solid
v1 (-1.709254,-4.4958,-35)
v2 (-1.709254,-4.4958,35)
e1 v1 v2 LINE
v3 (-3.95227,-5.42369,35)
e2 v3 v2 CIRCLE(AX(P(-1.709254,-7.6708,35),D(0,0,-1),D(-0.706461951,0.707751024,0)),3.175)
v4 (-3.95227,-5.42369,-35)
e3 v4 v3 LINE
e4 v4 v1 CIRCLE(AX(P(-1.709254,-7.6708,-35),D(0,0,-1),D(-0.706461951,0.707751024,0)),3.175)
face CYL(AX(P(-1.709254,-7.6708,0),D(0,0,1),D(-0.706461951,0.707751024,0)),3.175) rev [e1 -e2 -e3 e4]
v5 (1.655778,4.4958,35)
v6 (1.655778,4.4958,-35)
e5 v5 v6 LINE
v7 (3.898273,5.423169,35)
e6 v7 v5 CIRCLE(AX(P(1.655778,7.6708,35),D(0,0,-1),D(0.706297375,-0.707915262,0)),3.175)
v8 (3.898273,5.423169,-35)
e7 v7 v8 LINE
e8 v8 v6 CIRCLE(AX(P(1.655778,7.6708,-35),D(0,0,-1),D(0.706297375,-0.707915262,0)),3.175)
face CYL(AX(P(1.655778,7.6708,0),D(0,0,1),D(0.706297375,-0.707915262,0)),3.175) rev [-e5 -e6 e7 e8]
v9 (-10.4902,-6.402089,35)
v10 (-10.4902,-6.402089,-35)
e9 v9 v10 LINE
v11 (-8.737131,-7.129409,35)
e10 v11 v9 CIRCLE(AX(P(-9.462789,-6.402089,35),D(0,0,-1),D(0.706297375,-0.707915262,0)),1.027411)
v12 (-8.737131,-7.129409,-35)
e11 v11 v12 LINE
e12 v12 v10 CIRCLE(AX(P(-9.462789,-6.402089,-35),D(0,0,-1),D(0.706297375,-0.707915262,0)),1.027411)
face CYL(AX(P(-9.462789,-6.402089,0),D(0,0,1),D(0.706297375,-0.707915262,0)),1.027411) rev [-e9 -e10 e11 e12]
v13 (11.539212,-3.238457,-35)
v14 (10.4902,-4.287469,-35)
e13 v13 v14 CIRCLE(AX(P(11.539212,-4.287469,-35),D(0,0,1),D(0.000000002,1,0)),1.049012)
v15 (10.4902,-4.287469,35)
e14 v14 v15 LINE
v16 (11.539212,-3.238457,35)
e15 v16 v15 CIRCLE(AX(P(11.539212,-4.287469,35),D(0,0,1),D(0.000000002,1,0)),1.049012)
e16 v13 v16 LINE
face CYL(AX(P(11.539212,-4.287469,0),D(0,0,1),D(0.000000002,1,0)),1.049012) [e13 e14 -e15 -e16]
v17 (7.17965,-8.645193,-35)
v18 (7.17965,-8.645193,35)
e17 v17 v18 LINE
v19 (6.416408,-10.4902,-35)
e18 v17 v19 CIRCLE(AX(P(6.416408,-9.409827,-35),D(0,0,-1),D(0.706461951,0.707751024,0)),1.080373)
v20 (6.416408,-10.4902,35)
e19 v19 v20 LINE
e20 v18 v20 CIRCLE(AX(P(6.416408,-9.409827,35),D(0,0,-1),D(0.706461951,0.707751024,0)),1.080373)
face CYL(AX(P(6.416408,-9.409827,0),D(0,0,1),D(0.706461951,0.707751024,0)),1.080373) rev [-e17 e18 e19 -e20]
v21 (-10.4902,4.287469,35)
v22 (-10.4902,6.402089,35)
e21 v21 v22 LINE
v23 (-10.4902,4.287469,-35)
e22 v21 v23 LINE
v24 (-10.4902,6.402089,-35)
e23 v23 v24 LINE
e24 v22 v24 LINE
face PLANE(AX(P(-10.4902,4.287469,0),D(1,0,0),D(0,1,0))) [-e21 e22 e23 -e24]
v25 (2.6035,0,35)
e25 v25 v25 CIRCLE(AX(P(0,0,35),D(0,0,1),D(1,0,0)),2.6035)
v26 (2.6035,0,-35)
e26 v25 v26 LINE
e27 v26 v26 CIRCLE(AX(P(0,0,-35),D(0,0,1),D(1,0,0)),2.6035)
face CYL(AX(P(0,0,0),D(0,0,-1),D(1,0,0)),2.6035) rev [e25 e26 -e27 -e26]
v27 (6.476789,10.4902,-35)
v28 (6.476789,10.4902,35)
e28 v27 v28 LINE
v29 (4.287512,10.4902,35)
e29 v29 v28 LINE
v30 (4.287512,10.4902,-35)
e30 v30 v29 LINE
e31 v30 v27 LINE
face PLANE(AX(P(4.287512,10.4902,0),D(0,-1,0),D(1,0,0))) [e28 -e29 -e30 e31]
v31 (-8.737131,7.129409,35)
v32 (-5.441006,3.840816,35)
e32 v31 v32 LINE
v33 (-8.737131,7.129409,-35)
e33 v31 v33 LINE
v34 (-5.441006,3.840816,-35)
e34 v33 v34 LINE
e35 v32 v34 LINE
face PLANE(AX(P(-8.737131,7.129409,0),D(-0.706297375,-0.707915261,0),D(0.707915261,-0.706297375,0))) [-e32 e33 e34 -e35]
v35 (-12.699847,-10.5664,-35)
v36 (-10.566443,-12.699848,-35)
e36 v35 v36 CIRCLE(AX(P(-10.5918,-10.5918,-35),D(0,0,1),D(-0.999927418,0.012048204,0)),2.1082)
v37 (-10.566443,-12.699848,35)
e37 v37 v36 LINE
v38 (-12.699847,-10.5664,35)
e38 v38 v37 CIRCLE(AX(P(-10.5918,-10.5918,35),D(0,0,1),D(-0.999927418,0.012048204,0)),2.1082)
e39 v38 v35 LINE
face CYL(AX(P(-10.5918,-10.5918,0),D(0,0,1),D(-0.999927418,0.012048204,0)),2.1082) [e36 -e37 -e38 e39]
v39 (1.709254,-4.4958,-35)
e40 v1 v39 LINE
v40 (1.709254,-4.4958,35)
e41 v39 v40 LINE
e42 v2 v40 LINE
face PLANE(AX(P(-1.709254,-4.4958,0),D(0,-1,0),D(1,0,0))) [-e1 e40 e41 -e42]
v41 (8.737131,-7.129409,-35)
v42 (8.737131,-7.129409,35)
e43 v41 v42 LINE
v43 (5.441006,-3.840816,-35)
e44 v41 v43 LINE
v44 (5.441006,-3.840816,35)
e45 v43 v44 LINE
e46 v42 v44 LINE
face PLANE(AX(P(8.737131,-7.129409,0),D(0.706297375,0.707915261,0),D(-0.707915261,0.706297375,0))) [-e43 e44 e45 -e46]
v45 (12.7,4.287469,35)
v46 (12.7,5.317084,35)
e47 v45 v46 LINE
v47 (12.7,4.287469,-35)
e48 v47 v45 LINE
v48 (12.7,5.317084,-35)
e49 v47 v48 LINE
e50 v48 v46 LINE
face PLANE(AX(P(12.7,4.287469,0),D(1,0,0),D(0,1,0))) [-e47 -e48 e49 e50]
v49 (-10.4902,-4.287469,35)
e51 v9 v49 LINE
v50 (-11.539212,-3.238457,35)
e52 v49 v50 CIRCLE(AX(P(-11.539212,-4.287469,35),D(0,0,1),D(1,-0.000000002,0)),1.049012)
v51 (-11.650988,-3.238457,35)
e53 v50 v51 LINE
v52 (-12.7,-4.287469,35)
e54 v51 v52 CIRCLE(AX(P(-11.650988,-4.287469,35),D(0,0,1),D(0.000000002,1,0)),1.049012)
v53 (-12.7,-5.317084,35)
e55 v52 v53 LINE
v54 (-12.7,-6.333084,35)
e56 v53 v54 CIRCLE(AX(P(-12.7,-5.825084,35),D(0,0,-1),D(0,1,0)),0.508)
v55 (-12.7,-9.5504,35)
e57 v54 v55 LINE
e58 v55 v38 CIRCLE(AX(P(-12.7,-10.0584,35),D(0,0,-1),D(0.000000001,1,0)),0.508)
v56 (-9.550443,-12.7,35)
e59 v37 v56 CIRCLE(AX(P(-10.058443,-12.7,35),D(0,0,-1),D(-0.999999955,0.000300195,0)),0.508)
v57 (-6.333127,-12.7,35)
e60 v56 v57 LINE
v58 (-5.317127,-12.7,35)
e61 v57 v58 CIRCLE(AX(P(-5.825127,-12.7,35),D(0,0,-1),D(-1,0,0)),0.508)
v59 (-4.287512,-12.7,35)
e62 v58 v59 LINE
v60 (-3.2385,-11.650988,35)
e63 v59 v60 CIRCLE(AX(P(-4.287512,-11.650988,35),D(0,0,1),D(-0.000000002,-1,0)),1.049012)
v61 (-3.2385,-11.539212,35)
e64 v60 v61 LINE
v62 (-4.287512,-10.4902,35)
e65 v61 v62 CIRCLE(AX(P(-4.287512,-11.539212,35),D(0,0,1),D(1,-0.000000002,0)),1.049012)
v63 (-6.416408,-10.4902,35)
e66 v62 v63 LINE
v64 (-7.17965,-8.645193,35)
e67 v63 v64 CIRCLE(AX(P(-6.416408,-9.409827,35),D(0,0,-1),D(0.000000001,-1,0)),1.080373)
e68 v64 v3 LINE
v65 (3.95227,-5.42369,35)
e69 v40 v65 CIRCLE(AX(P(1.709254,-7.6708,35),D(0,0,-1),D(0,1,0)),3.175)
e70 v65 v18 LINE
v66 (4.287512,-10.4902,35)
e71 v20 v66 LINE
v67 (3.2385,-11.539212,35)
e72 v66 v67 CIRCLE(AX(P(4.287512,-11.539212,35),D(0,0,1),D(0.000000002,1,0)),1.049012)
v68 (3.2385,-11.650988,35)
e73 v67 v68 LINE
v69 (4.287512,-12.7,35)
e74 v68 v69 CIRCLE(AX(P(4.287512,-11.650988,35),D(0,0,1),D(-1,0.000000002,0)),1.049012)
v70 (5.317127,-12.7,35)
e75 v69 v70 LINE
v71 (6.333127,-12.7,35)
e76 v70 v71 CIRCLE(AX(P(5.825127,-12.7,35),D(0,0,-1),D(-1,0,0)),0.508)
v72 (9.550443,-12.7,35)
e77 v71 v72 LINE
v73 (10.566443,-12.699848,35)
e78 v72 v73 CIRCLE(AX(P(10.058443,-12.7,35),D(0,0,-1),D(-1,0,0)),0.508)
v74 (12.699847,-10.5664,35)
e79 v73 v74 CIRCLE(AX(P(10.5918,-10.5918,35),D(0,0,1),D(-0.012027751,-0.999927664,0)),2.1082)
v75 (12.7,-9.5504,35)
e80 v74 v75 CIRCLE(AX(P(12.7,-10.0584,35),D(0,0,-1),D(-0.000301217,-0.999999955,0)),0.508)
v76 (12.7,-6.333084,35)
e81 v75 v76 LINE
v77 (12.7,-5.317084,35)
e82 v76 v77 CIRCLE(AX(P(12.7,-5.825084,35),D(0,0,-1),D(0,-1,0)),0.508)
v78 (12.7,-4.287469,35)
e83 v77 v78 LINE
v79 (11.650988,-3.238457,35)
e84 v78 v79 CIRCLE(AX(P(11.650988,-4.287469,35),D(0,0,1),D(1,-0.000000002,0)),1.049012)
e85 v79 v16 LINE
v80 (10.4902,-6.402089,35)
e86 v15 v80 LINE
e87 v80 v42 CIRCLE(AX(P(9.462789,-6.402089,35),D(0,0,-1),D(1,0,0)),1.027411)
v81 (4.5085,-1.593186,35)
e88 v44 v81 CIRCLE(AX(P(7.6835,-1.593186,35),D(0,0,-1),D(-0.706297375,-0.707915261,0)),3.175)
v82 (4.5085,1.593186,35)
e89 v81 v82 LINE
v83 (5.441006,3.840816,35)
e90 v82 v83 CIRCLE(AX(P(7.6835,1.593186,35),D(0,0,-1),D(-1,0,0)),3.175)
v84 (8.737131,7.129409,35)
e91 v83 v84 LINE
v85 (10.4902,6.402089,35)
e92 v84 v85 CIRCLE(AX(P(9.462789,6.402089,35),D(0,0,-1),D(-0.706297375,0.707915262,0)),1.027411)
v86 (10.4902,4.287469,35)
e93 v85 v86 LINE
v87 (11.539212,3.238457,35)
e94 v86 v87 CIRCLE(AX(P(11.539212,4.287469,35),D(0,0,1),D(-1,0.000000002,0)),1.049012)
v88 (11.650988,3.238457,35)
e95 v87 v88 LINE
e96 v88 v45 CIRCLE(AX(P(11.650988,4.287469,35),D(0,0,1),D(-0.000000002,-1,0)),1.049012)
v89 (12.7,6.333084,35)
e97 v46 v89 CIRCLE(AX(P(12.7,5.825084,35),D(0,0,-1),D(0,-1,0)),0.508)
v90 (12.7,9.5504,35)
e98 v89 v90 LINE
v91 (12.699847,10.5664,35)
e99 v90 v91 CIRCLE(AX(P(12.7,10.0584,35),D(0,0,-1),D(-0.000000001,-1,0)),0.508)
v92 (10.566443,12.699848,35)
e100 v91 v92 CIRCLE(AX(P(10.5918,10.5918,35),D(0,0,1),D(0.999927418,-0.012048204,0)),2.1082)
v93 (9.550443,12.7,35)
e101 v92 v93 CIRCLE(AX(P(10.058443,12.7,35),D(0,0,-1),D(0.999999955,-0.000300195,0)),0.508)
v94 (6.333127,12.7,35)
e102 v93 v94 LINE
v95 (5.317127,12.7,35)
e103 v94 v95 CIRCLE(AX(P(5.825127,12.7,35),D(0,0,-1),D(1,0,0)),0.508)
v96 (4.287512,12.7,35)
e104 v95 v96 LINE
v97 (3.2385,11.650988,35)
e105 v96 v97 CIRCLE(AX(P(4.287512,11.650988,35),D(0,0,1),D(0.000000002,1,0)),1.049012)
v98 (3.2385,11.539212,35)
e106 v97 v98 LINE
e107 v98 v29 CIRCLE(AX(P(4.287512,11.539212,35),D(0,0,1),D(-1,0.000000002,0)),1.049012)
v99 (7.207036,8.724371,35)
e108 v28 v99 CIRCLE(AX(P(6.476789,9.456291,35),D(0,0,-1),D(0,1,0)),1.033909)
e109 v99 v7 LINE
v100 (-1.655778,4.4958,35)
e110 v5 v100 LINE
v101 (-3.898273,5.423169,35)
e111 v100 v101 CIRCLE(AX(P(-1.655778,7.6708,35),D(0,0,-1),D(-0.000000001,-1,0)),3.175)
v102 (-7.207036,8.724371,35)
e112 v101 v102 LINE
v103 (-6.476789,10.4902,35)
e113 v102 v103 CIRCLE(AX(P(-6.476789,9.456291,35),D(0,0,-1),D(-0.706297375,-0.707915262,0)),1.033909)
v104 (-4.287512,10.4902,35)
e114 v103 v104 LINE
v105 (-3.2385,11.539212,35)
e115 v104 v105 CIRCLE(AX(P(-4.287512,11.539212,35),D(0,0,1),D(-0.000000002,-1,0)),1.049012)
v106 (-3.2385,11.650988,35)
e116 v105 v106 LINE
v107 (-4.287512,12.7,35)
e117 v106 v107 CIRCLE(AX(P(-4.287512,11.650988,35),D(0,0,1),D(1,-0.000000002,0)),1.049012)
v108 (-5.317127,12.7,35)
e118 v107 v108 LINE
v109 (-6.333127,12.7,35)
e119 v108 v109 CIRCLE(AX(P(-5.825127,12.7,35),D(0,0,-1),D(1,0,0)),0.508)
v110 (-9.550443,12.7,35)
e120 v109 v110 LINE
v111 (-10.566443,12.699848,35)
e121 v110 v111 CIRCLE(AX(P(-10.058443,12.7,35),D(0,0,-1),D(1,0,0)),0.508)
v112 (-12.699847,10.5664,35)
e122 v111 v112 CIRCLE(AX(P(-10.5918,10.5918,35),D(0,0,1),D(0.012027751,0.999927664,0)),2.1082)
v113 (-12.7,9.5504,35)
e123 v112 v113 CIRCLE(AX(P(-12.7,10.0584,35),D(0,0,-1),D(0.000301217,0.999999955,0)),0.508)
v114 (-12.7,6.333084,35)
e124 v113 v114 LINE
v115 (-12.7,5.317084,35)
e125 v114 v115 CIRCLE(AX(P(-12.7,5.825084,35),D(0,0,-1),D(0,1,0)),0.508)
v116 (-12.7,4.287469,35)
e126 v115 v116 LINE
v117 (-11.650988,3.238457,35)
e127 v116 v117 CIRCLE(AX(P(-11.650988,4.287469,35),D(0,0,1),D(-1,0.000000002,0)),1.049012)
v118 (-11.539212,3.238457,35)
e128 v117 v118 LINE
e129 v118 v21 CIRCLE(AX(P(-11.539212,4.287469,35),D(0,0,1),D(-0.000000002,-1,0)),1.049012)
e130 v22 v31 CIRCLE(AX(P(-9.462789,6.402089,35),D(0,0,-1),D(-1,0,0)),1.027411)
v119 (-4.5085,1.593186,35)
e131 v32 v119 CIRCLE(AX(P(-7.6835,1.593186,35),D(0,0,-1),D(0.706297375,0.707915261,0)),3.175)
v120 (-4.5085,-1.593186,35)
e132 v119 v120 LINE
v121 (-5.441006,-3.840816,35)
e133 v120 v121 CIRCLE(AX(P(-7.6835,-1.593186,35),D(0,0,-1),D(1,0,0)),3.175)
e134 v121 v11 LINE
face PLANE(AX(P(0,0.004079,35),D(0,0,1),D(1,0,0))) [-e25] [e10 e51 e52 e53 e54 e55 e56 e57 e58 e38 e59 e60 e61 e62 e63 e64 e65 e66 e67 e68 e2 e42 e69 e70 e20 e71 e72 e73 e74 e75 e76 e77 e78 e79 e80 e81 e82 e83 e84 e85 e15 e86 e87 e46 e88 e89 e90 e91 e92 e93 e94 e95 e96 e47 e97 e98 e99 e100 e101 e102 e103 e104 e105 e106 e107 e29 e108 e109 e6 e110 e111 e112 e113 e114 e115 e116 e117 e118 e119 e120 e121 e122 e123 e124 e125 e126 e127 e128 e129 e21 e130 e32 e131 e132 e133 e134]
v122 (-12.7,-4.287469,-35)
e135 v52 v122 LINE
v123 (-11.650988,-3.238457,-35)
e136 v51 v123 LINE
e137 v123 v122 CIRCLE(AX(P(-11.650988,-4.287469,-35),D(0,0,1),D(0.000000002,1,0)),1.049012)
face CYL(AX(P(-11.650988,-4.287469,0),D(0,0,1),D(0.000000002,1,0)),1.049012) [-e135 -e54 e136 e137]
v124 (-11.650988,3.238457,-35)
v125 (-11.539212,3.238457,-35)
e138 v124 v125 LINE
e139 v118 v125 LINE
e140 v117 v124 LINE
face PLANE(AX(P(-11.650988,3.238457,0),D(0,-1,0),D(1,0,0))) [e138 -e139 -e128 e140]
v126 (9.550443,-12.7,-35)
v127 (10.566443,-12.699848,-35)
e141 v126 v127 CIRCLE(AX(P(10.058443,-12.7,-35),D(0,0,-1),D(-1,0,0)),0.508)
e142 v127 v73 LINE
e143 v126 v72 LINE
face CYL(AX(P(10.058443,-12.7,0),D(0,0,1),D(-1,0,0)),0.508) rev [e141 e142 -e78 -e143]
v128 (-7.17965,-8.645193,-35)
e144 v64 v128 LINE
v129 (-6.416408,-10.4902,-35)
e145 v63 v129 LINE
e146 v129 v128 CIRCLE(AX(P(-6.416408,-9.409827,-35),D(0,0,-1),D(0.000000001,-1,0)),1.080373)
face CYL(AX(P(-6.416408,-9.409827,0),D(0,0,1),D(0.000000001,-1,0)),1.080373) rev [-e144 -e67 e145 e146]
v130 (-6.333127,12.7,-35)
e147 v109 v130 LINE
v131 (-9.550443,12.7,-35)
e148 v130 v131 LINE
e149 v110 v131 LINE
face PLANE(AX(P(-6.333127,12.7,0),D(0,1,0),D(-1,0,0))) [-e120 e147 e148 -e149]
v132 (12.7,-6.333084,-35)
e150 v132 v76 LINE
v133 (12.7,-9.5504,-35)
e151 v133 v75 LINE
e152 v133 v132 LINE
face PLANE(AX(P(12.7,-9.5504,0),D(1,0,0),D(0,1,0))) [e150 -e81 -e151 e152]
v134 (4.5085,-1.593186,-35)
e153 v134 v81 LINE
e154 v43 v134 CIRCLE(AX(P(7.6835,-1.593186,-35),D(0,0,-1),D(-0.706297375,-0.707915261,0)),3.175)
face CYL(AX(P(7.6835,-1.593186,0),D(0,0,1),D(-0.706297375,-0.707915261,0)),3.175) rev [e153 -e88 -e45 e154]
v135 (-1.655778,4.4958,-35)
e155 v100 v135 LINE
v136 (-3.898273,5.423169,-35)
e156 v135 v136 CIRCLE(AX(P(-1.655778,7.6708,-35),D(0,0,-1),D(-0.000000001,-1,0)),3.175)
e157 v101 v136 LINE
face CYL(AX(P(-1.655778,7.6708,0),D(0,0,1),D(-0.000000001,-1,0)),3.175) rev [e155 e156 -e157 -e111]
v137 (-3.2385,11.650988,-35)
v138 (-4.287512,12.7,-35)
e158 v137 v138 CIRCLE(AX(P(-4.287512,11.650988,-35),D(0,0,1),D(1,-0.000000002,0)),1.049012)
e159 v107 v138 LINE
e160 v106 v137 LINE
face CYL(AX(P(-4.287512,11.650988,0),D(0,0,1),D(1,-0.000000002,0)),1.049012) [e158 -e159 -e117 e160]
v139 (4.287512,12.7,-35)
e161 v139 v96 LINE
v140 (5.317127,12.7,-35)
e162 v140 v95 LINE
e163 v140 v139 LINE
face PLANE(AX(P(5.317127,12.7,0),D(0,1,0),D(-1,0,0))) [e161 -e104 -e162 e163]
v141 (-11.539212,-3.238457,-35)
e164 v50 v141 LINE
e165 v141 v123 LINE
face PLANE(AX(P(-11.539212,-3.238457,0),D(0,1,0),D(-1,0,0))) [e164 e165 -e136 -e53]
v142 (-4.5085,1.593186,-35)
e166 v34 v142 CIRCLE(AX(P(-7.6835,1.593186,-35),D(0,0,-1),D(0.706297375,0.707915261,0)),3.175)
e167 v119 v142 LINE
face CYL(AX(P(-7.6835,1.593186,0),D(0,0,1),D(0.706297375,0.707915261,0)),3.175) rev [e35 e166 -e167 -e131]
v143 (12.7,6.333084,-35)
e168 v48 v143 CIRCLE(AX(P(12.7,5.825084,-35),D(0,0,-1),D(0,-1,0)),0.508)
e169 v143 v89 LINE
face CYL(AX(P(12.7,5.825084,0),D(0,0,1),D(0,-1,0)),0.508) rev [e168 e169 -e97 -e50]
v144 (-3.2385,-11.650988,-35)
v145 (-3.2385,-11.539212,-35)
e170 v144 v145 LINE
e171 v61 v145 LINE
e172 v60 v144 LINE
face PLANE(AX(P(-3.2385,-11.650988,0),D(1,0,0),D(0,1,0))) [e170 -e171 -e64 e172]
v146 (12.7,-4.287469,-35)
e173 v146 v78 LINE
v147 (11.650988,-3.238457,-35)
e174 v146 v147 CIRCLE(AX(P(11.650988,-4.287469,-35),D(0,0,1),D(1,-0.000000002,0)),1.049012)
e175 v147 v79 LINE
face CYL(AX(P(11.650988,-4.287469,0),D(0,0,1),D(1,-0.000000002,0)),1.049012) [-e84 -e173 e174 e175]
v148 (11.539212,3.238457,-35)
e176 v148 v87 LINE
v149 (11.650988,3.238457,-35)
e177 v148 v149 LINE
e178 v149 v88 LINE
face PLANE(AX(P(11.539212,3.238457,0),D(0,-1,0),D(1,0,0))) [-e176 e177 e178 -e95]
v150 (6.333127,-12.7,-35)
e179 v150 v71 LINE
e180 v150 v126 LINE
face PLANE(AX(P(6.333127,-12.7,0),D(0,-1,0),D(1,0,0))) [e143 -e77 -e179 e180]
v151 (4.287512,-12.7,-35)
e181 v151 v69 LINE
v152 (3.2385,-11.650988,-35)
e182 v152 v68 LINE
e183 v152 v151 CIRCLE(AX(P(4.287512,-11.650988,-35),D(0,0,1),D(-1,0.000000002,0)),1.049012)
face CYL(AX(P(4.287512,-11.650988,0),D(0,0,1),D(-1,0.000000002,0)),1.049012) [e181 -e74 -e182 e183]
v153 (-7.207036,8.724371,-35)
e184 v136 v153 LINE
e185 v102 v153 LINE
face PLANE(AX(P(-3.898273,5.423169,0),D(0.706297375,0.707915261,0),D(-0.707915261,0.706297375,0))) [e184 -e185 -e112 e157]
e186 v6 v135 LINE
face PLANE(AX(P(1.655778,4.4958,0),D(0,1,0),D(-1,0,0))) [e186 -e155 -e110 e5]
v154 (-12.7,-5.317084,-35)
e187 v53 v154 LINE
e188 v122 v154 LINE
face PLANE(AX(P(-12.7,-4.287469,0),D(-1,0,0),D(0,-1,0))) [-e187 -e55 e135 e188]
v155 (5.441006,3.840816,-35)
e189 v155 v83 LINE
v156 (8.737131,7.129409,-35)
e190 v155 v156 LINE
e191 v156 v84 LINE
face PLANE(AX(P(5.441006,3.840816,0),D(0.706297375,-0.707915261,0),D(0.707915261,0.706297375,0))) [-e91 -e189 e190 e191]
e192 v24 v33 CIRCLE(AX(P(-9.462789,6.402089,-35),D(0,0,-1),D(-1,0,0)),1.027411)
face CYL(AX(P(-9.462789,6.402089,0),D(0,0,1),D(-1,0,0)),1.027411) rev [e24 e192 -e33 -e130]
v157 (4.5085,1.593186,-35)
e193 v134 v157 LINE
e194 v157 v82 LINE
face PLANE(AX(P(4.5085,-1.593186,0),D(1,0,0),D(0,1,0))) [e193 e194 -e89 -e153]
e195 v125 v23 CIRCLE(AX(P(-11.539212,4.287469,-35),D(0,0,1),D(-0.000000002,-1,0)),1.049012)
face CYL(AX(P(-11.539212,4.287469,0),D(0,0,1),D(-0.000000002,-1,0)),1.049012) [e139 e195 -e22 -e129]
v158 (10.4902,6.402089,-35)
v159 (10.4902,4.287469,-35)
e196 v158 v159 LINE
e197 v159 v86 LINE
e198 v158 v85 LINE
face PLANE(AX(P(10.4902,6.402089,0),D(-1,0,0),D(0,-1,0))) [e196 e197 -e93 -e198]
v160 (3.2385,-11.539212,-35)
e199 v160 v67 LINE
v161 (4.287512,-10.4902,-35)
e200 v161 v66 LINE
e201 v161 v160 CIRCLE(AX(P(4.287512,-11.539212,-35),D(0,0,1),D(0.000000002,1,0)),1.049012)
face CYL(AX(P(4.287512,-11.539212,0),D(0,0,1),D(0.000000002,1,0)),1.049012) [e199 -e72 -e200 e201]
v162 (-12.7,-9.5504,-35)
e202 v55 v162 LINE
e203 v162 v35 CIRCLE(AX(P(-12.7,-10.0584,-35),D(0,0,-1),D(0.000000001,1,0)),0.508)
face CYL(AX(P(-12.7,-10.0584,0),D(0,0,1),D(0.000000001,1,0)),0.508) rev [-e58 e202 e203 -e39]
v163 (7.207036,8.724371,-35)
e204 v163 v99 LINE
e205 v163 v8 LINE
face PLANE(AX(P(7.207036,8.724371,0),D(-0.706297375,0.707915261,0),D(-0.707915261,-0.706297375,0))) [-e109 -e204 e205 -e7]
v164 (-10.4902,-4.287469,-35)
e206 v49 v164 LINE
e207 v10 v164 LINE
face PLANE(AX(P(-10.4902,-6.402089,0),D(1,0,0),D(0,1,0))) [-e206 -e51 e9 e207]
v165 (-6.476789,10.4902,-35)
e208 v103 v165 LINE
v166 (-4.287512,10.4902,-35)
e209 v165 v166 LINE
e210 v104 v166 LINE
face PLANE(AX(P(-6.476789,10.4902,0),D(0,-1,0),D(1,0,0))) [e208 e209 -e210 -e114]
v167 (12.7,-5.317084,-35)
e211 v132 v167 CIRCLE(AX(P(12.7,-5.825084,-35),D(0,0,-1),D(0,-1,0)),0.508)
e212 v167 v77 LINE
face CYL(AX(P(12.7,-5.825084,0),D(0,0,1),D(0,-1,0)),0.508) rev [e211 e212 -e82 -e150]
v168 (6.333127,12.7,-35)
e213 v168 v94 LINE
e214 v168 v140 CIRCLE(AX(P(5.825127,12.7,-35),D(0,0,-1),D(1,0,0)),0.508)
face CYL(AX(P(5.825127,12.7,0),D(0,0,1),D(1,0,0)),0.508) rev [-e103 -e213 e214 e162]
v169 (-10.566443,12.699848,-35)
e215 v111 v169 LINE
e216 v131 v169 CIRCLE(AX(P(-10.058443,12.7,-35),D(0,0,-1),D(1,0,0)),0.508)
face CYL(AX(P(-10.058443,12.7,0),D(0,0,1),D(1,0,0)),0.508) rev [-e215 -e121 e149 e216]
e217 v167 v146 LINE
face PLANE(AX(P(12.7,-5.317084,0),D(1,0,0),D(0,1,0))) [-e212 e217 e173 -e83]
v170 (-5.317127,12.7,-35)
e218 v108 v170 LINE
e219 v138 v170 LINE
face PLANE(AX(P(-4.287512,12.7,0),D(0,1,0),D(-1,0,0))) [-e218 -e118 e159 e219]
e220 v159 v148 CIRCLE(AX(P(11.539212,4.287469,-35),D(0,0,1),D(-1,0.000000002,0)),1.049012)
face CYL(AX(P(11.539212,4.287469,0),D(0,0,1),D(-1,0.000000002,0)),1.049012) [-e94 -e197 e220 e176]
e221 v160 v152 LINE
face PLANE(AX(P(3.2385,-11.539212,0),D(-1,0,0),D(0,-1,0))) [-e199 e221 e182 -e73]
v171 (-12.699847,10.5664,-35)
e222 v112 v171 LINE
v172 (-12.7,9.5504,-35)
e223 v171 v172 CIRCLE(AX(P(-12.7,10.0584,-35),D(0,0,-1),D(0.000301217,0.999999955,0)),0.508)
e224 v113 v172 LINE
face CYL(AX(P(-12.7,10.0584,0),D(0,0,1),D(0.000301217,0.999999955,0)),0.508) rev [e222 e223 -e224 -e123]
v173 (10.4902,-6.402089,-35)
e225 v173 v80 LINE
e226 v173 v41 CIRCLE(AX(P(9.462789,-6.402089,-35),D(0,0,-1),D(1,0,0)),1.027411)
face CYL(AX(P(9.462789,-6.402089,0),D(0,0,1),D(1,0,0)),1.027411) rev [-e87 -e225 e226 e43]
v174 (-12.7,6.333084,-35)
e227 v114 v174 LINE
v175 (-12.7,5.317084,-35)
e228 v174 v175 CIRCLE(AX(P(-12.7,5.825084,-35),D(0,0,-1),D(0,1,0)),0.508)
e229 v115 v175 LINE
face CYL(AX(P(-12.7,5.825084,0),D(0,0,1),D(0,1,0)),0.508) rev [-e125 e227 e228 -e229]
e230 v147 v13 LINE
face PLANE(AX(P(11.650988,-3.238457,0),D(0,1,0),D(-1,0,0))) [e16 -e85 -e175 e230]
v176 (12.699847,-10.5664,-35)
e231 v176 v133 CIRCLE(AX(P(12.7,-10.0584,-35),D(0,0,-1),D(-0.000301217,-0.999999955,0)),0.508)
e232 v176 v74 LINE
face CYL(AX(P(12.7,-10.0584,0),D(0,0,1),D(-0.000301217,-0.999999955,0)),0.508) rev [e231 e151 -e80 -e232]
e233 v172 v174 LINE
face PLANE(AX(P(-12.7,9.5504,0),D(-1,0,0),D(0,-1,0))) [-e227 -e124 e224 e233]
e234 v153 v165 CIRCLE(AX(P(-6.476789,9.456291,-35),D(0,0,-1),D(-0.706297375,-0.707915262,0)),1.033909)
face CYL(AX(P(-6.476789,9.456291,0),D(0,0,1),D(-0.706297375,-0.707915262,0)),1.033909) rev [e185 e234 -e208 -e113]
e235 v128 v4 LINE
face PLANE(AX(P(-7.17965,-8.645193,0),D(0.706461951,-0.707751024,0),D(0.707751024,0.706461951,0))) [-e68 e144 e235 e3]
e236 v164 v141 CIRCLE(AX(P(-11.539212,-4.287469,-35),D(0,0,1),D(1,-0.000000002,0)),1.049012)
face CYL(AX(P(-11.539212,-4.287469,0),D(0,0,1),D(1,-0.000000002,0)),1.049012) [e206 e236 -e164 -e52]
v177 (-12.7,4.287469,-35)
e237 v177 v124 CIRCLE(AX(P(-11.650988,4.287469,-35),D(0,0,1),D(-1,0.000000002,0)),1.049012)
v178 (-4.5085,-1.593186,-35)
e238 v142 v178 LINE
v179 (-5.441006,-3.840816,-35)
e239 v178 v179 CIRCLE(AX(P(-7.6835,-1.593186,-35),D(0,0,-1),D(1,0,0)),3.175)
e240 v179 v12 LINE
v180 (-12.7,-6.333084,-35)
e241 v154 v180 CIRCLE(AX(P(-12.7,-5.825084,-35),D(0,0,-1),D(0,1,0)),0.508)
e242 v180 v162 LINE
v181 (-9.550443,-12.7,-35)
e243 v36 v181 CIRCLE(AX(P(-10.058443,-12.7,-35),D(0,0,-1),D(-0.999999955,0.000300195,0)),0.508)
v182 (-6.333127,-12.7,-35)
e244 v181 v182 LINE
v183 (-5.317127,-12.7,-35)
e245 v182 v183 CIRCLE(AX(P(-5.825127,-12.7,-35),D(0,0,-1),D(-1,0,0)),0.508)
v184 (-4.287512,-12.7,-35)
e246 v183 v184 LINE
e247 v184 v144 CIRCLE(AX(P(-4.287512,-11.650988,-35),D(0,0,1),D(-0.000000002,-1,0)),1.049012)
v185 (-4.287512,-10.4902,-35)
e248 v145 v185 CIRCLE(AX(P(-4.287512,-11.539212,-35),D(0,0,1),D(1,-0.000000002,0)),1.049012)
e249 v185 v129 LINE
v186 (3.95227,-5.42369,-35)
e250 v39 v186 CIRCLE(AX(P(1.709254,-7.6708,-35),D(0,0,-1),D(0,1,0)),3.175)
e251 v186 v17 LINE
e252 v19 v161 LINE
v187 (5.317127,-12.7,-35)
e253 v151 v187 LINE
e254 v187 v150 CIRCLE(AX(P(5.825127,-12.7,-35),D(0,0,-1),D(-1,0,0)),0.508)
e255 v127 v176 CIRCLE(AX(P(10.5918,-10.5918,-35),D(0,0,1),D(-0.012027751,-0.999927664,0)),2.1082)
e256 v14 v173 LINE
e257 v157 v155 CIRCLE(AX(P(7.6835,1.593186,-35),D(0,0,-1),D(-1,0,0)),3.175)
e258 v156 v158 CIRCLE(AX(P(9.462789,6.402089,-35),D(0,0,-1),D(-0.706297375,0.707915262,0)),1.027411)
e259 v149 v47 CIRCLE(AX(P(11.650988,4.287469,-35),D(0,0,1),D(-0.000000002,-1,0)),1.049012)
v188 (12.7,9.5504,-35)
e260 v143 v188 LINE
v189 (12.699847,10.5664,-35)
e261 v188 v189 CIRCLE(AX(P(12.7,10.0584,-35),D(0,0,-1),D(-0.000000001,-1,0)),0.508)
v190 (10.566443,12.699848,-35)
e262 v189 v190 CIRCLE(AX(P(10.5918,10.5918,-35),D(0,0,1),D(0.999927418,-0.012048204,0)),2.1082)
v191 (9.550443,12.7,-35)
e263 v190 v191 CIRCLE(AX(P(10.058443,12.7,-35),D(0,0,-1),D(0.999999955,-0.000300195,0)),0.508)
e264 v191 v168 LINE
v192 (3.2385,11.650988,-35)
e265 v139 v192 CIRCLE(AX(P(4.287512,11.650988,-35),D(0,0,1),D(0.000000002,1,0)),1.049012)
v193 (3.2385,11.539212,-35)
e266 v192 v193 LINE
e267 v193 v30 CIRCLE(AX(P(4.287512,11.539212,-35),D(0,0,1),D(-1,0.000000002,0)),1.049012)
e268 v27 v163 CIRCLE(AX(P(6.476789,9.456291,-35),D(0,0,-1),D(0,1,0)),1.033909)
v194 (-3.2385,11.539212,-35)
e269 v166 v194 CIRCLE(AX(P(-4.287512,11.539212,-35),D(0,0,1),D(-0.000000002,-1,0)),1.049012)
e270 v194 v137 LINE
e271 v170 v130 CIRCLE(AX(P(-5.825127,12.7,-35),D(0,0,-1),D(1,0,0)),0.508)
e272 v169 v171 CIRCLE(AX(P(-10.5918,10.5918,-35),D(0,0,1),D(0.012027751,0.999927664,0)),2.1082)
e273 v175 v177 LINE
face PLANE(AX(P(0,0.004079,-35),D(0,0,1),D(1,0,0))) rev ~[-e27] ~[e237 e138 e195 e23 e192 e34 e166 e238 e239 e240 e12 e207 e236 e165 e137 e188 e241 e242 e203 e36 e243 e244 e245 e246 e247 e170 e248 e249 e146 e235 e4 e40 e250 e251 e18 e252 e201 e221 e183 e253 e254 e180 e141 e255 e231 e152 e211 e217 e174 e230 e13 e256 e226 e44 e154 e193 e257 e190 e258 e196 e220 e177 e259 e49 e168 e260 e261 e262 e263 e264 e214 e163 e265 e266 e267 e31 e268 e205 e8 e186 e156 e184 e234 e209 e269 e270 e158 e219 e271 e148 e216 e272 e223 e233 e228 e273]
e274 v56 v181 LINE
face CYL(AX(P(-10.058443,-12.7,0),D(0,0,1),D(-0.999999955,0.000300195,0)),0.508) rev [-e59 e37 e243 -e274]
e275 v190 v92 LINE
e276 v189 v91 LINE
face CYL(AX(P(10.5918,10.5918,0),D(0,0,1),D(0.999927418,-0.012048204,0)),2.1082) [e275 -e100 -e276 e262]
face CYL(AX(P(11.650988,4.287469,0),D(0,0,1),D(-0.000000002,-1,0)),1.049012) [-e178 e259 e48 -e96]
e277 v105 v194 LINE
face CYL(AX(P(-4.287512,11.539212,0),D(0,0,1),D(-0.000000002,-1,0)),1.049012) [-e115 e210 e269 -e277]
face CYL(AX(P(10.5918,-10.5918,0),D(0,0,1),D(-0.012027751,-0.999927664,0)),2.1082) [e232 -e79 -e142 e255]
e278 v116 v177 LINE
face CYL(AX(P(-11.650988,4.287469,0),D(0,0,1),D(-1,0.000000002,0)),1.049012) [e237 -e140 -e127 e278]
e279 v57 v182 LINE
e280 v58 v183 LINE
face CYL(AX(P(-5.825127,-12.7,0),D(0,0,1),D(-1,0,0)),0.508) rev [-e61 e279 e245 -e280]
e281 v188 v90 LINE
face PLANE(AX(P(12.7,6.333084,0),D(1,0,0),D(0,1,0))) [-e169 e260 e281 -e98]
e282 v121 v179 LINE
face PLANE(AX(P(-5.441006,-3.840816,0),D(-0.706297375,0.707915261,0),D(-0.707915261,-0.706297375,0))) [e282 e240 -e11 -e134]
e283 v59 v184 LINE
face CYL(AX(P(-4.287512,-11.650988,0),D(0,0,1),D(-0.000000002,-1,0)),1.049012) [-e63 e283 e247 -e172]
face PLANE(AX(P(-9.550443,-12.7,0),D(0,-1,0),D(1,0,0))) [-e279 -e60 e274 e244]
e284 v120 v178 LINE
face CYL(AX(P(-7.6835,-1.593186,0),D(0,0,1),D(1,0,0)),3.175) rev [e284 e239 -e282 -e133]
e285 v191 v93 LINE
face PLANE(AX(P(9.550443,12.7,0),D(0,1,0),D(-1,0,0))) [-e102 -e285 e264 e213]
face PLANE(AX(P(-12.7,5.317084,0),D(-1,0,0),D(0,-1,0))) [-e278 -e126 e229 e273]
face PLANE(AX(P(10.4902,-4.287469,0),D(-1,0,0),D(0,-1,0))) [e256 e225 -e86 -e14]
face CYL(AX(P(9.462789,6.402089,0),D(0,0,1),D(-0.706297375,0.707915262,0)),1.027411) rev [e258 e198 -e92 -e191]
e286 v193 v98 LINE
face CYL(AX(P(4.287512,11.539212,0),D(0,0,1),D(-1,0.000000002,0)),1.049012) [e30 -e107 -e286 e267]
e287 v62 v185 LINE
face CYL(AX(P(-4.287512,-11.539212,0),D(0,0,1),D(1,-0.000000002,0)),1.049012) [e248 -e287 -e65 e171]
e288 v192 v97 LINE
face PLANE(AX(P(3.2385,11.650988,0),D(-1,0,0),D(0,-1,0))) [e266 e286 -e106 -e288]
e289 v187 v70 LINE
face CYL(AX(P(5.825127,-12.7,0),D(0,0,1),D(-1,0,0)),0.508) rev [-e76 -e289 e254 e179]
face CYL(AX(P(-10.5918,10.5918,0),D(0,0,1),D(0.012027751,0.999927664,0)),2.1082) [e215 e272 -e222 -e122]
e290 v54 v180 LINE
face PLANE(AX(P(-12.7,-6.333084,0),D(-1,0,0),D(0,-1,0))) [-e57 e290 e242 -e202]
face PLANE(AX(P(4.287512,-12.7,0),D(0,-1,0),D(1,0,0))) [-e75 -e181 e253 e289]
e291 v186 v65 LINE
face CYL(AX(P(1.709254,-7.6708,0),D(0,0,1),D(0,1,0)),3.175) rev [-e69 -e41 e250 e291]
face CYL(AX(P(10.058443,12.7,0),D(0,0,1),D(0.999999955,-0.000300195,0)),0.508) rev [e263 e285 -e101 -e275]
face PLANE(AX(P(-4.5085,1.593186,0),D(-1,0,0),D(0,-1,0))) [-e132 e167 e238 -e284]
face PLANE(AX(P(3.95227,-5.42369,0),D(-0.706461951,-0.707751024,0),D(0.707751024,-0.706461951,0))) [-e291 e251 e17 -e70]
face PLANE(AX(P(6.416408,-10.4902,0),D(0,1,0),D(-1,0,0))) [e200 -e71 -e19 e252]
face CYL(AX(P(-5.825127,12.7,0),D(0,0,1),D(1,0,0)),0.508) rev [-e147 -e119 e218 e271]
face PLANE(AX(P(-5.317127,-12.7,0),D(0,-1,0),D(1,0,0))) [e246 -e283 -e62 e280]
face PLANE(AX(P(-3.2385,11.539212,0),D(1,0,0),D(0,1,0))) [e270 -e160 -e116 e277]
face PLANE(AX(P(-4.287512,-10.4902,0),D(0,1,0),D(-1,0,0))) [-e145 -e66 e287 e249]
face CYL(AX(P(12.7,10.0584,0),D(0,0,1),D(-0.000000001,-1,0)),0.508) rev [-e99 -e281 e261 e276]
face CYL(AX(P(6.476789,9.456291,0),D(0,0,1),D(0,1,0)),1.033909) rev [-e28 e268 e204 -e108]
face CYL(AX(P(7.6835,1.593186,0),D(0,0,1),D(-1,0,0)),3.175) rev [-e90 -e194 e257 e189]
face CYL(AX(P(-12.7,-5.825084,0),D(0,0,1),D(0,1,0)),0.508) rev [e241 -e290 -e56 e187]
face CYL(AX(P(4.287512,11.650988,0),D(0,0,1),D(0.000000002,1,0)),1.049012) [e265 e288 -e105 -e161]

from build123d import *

# Parameters (mm, degrees)
SKETCH1_R           = 2.6035
BOSS_EXTRUDE1_DEPTH = 35


with BuildPart() as part:
    # Sketch1 → Boss-Extrude1 (new body, symmetric)
    with BuildSketch(Plane.XY):
        with BuildLine():
            Line((-7.179650497, -8.645192506), (-3.952270251, -5.423690499))
            ThreePointArc((-3.952270251, -5.423690499), (-2.922936451, -4.736929036), (-1.709253557, -4.4958))
            Line((-1.709253557, -4.4958), (1.709253557, -4.4958))
            ThreePointArc((1.709253557, -4.4958), (2.922936451, -4.736929036), (3.952270251, -5.423690499))
            Line((3.952270251, -5.423690499), (7.179650497, -8.645192506))
            ThreePointArc((7.179650497, -8.645192506), (7.41473083, -9.822813117), (6.416408329, -10.4902))
            Line((6.416408329, -10.4902), (4.287512407, -10.4902))
            ThreePointArc((4.287512407, -10.4902), (3.54574862, -10.79744862), (3.2385, -11.539212407))
            Line((3.2385, -11.539212407), (3.2385, -11.650987593))
            ThreePointArc((3.2385, -11.650987593), (3.54574862, -12.39275138), (4.287512407, -12.7))
            Line((4.287512407, -12.7), (5.317126718, -12.7))
            ThreePointArc((5.317126718, -12.7), (5.825126718, -12.192), (6.333126718, -12.7))
            Line((6.333126718, -12.7), (9.550443118, -12.7))
            ThreePointArc((9.550443118, -12.7), (10.058366869, -12.192000006), (10.566443095, -12.699847501))
            ThreePointArc((10.566443095, -12.699847501), (12.082537762, -12.08250727), (12.699846982, -10.566399977))
            ThreePointArc((12.699846982, -10.566399977), (12.192000006, -10.058323491), (12.7, -9.5504))
            Line((12.7, -9.5504), (12.7, -6.3330836))
            ThreePointArc((12.7, -6.3330836), (12.192, -5.8250836), (12.7, -5.3170836))
            Line((12.7, -5.3170836), (12.7, -4.287469289))
            ThreePointArc((12.7, -4.287469289), (12.39275138, -3.545705502), (11.650987593, -3.238456882))
            Line((11.650987593, -3.238456882), (11.539212407, -3.238456882))
            ThreePointArc((11.539212407, -3.238456882), (10.79744862, -3.545705502), (10.4902, -4.287469289))
            Line((10.4902, -4.287469289), (10.4902, -6.402089023))
            ThreePointArc((10.4902, -6.402089023), (9.856505071, -7.351067942), (8.737131347, -7.129408934))
            Line((8.737131347, -7.129408934), (5.441005833, -3.840816462))
            ThreePointArc((5.441005833, -3.840816462), (4.750877967, -2.809883091), (4.5085, -1.593185507))
            Line((4.5085, -1.593185507), (4.5085, 1.593185507))
            ThreePointArc((4.5085, 1.593185507), (4.750877967, 2.809883091), (5.441005833, 3.840816462))
            Line((5.441005833, 3.840816462), (8.737131347, 7.129408934))
            ThreePointArc((8.737131347, 7.129408934), (9.856505071, 7.351067942), (10.4902, 6.402089023))
            Line((10.4902, 6.402089023), (10.4902, 4.287469289))
            ThreePointArc((10.4902, 4.287469289), (10.79744862, 3.545705502), (11.539212407, 3.238456882))
            Line((11.539212407, 3.238456882), (11.650987593, 3.238456882))
            ThreePointArc((11.650987593, 3.238456882), (12.39275138, 3.545705502), (12.7, 4.287469289))
            Line((12.7, 4.287469289), (12.7, 5.3170836))
            ThreePointArc((12.7, 5.3170836), (12.192, 5.8250836), (12.7, 6.3330836))
            Line((12.7, 6.3330836), (12.7, 9.5504))
            ThreePointArc((12.7, 9.5504), (12.192000006, 10.058323491), (12.699846982, 10.566399977))
            ThreePointArc((12.699846982, 10.566399977), (12.082537762, 12.08250727), (10.566443095, 12.699847501))
            ThreePointArc((10.566443095, 12.699847501), (10.058366869, 12.192000006), (9.550443118, 12.7))
            Line((9.550443118, 12.7), (6.333126718, 12.7))
            ThreePointArc((6.333126718, 12.7), (5.825126718, 12.192), (5.317126718, 12.7))
            Line((5.317126718, 12.7), (4.287512407, 12.7))
            ThreePointArc((4.287512407, 12.7), (3.54574862, 12.39275138), (3.2385, 11.650987593))
            Line((3.2385, 11.650987593), (3.2385, 11.539212407))
            ThreePointArc((3.2385, 11.539212407), (3.54574862, 10.79744862), (4.287512407, 10.4902))
            Line((4.287512407, 10.4902), (6.476788598, 10.4902))
            ThreePointArc((6.476788598, 10.4902), (7.432222385, 9.85140422), (7.207036008, 8.724370562))
            Line((7.207036008, 8.724370562), (3.898272566, 5.423169045))
            ThreePointArc((3.898272566, 5.423169045), (2.869120213, 4.736787962), (1.655778399, 4.4958))
            Line((1.655778399, 4.4958), (-1.655778399, 4.4958))
            ThreePointArc((-1.655778399, 4.4958), (-2.869120213, 4.736787962), (-3.898272566, 5.423169045))
            Line((-3.898272566, 5.423169045), (-7.207036008, 8.724370562))
            ThreePointArc((-7.207036008, 8.724370562), (-7.432222385, 9.85140422), (-6.476788598, 10.4902))
            Line((-6.476788598, 10.4902), (-4.287512407, 10.4902))
            ThreePointArc((-4.287512407, 10.4902), (-3.54574862, 10.79744862), (-3.2385, 11.539212407))
            Line((-3.2385, 11.539212407), (-3.2385, 11.650987593))
            ThreePointArc((-3.2385, 11.650987593), (-3.54574862, 12.39275138), (-4.287512407, 12.7))
            Line((-4.287512407, 12.7), (-5.317126718, 12.7))
            ThreePointArc((-5.317126718, 12.7), (-5.825126718, 12.192), (-6.333126718, 12.7))
            Line((-6.333126718, 12.7), (-9.550443118, 12.7))
            ThreePointArc((-9.550443118, 12.7), (-10.058366869, 12.192000006), (-10.566443095, 12.699847501))
            ThreePointArc((-10.566443095, 12.699847501), (-12.082537762, 12.08250727), (-12.699846982, 10.566399977))
            ThreePointArc((-12.699846982, 10.566399977), (-12.192000006, 10.058323491), (-12.7, 9.5504))
            Line((-12.7, 9.5504), (-12.7, 6.3330836))
            ThreePointArc((-12.7, 6.3330836), (-12.192, 5.8250836), (-12.7, 5.3170836))
            Line((-12.7, 5.3170836), (-12.7, 4.287469289))
            ThreePointArc((-12.7, 4.287469289), (-12.39275138, 3.545705502), (-11.650987593, 3.238456882))
            Line((-11.650987593, 3.238456882), (-11.539212407, 3.238456882))
            ThreePointArc((-11.539212407, 3.238456882), (-10.79744862, 3.545705502), (-10.4902, 4.287469289))
            Line((-10.4902, 4.287469289), (-10.4902, 6.402089023))
            ThreePointArc((-10.4902, 6.402089023), (-9.856505071, 7.351067942), (-8.737131347, 7.129408934))
            Line((-8.737131347, 7.129408934), (-5.441005833, 3.840816462))
            ThreePointArc((-5.441005833, 3.840816462), (-4.750877967, 2.809883091), (-4.5085, 1.593185507))
            Line((-4.5085, 1.593185507), (-4.5085, -1.593185507))
            ThreePointArc((-4.5085, -1.593185507), (-4.750877967, -2.809883091), (-5.441005833, -3.840816462))
            Line((-5.441005833, -3.840816462), (-8.737131347, -7.129408934))
            ThreePointArc((-8.737131347, -7.129408934), (-9.856505071, -7.351067942), (-10.4902, -6.402089023))
            Line((-10.4902, -6.402089023), (-10.4902, -4.287469289))
            ThreePointArc((-10.4902, -4.287469289), (-10.79744862, -3.545705502), (-11.539212407, -3.238456882))
            Line((-11.539212407, -3.238456882), (-11.650987593, -3.238456882))
            ThreePointArc((-11.650987593, -3.238456882), (-12.39275138, -3.545705502), (-12.7, -4.287469289))
            Line((-12.7, -4.287469289), (-12.7, -5.3170836))
            ThreePointArc((-12.7, -5.3170836), (-12.192, -5.8250836), (-12.7, -6.3330836))
            Line((-12.7, -6.3330836), (-12.7, -9.5504))
            ThreePointArc((-12.7, -9.5504), (-12.192000006, -10.058323491), (-12.699846982, -10.566399977))
            ThreePointArc((-12.699846982, -10.566399977), (-12.082537762, -12.08250727), (-10.566443095, -12.699847501))
            ThreePointArc((-10.566443095, -12.699847501), (-10.058366869, -12.192000006), (-9.550443118, -12.7))
            Line((-9.550443118, -12.7), (-6.333126718, -12.7))
            ThreePointArc((-6.333126718, -12.7), (-5.825126718, -12.192), (-5.317126718, -12.7))
            Line((-5.317126718, -12.7), (-4.287512407, -12.7))
            ThreePointArc((-4.287512407, -12.7), (-3.54574862, -12.39275138), (-3.2385, -11.650987593))
            Line((-3.2385, -11.650987593), (-3.2385, -11.539212407))
            ThreePointArc((-3.2385, -11.539212407), (-3.54574862, -10.79744862), (-4.287512407, -10.4902))
            Line((-4.287512407, -10.4902), (-6.416408329, -10.4902))
            ThreePointArc((-6.416408329, -10.4902), (-7.41473083, -9.822813117), (-7.179650497, -8.645192506))
        make_face()
        Circle(SKETCH1_R, mode=Mode.SUBTRACT)
    extrude(amount=BOSS_EXTRUDE1_DEPTH, both=True)


solid = part.part
